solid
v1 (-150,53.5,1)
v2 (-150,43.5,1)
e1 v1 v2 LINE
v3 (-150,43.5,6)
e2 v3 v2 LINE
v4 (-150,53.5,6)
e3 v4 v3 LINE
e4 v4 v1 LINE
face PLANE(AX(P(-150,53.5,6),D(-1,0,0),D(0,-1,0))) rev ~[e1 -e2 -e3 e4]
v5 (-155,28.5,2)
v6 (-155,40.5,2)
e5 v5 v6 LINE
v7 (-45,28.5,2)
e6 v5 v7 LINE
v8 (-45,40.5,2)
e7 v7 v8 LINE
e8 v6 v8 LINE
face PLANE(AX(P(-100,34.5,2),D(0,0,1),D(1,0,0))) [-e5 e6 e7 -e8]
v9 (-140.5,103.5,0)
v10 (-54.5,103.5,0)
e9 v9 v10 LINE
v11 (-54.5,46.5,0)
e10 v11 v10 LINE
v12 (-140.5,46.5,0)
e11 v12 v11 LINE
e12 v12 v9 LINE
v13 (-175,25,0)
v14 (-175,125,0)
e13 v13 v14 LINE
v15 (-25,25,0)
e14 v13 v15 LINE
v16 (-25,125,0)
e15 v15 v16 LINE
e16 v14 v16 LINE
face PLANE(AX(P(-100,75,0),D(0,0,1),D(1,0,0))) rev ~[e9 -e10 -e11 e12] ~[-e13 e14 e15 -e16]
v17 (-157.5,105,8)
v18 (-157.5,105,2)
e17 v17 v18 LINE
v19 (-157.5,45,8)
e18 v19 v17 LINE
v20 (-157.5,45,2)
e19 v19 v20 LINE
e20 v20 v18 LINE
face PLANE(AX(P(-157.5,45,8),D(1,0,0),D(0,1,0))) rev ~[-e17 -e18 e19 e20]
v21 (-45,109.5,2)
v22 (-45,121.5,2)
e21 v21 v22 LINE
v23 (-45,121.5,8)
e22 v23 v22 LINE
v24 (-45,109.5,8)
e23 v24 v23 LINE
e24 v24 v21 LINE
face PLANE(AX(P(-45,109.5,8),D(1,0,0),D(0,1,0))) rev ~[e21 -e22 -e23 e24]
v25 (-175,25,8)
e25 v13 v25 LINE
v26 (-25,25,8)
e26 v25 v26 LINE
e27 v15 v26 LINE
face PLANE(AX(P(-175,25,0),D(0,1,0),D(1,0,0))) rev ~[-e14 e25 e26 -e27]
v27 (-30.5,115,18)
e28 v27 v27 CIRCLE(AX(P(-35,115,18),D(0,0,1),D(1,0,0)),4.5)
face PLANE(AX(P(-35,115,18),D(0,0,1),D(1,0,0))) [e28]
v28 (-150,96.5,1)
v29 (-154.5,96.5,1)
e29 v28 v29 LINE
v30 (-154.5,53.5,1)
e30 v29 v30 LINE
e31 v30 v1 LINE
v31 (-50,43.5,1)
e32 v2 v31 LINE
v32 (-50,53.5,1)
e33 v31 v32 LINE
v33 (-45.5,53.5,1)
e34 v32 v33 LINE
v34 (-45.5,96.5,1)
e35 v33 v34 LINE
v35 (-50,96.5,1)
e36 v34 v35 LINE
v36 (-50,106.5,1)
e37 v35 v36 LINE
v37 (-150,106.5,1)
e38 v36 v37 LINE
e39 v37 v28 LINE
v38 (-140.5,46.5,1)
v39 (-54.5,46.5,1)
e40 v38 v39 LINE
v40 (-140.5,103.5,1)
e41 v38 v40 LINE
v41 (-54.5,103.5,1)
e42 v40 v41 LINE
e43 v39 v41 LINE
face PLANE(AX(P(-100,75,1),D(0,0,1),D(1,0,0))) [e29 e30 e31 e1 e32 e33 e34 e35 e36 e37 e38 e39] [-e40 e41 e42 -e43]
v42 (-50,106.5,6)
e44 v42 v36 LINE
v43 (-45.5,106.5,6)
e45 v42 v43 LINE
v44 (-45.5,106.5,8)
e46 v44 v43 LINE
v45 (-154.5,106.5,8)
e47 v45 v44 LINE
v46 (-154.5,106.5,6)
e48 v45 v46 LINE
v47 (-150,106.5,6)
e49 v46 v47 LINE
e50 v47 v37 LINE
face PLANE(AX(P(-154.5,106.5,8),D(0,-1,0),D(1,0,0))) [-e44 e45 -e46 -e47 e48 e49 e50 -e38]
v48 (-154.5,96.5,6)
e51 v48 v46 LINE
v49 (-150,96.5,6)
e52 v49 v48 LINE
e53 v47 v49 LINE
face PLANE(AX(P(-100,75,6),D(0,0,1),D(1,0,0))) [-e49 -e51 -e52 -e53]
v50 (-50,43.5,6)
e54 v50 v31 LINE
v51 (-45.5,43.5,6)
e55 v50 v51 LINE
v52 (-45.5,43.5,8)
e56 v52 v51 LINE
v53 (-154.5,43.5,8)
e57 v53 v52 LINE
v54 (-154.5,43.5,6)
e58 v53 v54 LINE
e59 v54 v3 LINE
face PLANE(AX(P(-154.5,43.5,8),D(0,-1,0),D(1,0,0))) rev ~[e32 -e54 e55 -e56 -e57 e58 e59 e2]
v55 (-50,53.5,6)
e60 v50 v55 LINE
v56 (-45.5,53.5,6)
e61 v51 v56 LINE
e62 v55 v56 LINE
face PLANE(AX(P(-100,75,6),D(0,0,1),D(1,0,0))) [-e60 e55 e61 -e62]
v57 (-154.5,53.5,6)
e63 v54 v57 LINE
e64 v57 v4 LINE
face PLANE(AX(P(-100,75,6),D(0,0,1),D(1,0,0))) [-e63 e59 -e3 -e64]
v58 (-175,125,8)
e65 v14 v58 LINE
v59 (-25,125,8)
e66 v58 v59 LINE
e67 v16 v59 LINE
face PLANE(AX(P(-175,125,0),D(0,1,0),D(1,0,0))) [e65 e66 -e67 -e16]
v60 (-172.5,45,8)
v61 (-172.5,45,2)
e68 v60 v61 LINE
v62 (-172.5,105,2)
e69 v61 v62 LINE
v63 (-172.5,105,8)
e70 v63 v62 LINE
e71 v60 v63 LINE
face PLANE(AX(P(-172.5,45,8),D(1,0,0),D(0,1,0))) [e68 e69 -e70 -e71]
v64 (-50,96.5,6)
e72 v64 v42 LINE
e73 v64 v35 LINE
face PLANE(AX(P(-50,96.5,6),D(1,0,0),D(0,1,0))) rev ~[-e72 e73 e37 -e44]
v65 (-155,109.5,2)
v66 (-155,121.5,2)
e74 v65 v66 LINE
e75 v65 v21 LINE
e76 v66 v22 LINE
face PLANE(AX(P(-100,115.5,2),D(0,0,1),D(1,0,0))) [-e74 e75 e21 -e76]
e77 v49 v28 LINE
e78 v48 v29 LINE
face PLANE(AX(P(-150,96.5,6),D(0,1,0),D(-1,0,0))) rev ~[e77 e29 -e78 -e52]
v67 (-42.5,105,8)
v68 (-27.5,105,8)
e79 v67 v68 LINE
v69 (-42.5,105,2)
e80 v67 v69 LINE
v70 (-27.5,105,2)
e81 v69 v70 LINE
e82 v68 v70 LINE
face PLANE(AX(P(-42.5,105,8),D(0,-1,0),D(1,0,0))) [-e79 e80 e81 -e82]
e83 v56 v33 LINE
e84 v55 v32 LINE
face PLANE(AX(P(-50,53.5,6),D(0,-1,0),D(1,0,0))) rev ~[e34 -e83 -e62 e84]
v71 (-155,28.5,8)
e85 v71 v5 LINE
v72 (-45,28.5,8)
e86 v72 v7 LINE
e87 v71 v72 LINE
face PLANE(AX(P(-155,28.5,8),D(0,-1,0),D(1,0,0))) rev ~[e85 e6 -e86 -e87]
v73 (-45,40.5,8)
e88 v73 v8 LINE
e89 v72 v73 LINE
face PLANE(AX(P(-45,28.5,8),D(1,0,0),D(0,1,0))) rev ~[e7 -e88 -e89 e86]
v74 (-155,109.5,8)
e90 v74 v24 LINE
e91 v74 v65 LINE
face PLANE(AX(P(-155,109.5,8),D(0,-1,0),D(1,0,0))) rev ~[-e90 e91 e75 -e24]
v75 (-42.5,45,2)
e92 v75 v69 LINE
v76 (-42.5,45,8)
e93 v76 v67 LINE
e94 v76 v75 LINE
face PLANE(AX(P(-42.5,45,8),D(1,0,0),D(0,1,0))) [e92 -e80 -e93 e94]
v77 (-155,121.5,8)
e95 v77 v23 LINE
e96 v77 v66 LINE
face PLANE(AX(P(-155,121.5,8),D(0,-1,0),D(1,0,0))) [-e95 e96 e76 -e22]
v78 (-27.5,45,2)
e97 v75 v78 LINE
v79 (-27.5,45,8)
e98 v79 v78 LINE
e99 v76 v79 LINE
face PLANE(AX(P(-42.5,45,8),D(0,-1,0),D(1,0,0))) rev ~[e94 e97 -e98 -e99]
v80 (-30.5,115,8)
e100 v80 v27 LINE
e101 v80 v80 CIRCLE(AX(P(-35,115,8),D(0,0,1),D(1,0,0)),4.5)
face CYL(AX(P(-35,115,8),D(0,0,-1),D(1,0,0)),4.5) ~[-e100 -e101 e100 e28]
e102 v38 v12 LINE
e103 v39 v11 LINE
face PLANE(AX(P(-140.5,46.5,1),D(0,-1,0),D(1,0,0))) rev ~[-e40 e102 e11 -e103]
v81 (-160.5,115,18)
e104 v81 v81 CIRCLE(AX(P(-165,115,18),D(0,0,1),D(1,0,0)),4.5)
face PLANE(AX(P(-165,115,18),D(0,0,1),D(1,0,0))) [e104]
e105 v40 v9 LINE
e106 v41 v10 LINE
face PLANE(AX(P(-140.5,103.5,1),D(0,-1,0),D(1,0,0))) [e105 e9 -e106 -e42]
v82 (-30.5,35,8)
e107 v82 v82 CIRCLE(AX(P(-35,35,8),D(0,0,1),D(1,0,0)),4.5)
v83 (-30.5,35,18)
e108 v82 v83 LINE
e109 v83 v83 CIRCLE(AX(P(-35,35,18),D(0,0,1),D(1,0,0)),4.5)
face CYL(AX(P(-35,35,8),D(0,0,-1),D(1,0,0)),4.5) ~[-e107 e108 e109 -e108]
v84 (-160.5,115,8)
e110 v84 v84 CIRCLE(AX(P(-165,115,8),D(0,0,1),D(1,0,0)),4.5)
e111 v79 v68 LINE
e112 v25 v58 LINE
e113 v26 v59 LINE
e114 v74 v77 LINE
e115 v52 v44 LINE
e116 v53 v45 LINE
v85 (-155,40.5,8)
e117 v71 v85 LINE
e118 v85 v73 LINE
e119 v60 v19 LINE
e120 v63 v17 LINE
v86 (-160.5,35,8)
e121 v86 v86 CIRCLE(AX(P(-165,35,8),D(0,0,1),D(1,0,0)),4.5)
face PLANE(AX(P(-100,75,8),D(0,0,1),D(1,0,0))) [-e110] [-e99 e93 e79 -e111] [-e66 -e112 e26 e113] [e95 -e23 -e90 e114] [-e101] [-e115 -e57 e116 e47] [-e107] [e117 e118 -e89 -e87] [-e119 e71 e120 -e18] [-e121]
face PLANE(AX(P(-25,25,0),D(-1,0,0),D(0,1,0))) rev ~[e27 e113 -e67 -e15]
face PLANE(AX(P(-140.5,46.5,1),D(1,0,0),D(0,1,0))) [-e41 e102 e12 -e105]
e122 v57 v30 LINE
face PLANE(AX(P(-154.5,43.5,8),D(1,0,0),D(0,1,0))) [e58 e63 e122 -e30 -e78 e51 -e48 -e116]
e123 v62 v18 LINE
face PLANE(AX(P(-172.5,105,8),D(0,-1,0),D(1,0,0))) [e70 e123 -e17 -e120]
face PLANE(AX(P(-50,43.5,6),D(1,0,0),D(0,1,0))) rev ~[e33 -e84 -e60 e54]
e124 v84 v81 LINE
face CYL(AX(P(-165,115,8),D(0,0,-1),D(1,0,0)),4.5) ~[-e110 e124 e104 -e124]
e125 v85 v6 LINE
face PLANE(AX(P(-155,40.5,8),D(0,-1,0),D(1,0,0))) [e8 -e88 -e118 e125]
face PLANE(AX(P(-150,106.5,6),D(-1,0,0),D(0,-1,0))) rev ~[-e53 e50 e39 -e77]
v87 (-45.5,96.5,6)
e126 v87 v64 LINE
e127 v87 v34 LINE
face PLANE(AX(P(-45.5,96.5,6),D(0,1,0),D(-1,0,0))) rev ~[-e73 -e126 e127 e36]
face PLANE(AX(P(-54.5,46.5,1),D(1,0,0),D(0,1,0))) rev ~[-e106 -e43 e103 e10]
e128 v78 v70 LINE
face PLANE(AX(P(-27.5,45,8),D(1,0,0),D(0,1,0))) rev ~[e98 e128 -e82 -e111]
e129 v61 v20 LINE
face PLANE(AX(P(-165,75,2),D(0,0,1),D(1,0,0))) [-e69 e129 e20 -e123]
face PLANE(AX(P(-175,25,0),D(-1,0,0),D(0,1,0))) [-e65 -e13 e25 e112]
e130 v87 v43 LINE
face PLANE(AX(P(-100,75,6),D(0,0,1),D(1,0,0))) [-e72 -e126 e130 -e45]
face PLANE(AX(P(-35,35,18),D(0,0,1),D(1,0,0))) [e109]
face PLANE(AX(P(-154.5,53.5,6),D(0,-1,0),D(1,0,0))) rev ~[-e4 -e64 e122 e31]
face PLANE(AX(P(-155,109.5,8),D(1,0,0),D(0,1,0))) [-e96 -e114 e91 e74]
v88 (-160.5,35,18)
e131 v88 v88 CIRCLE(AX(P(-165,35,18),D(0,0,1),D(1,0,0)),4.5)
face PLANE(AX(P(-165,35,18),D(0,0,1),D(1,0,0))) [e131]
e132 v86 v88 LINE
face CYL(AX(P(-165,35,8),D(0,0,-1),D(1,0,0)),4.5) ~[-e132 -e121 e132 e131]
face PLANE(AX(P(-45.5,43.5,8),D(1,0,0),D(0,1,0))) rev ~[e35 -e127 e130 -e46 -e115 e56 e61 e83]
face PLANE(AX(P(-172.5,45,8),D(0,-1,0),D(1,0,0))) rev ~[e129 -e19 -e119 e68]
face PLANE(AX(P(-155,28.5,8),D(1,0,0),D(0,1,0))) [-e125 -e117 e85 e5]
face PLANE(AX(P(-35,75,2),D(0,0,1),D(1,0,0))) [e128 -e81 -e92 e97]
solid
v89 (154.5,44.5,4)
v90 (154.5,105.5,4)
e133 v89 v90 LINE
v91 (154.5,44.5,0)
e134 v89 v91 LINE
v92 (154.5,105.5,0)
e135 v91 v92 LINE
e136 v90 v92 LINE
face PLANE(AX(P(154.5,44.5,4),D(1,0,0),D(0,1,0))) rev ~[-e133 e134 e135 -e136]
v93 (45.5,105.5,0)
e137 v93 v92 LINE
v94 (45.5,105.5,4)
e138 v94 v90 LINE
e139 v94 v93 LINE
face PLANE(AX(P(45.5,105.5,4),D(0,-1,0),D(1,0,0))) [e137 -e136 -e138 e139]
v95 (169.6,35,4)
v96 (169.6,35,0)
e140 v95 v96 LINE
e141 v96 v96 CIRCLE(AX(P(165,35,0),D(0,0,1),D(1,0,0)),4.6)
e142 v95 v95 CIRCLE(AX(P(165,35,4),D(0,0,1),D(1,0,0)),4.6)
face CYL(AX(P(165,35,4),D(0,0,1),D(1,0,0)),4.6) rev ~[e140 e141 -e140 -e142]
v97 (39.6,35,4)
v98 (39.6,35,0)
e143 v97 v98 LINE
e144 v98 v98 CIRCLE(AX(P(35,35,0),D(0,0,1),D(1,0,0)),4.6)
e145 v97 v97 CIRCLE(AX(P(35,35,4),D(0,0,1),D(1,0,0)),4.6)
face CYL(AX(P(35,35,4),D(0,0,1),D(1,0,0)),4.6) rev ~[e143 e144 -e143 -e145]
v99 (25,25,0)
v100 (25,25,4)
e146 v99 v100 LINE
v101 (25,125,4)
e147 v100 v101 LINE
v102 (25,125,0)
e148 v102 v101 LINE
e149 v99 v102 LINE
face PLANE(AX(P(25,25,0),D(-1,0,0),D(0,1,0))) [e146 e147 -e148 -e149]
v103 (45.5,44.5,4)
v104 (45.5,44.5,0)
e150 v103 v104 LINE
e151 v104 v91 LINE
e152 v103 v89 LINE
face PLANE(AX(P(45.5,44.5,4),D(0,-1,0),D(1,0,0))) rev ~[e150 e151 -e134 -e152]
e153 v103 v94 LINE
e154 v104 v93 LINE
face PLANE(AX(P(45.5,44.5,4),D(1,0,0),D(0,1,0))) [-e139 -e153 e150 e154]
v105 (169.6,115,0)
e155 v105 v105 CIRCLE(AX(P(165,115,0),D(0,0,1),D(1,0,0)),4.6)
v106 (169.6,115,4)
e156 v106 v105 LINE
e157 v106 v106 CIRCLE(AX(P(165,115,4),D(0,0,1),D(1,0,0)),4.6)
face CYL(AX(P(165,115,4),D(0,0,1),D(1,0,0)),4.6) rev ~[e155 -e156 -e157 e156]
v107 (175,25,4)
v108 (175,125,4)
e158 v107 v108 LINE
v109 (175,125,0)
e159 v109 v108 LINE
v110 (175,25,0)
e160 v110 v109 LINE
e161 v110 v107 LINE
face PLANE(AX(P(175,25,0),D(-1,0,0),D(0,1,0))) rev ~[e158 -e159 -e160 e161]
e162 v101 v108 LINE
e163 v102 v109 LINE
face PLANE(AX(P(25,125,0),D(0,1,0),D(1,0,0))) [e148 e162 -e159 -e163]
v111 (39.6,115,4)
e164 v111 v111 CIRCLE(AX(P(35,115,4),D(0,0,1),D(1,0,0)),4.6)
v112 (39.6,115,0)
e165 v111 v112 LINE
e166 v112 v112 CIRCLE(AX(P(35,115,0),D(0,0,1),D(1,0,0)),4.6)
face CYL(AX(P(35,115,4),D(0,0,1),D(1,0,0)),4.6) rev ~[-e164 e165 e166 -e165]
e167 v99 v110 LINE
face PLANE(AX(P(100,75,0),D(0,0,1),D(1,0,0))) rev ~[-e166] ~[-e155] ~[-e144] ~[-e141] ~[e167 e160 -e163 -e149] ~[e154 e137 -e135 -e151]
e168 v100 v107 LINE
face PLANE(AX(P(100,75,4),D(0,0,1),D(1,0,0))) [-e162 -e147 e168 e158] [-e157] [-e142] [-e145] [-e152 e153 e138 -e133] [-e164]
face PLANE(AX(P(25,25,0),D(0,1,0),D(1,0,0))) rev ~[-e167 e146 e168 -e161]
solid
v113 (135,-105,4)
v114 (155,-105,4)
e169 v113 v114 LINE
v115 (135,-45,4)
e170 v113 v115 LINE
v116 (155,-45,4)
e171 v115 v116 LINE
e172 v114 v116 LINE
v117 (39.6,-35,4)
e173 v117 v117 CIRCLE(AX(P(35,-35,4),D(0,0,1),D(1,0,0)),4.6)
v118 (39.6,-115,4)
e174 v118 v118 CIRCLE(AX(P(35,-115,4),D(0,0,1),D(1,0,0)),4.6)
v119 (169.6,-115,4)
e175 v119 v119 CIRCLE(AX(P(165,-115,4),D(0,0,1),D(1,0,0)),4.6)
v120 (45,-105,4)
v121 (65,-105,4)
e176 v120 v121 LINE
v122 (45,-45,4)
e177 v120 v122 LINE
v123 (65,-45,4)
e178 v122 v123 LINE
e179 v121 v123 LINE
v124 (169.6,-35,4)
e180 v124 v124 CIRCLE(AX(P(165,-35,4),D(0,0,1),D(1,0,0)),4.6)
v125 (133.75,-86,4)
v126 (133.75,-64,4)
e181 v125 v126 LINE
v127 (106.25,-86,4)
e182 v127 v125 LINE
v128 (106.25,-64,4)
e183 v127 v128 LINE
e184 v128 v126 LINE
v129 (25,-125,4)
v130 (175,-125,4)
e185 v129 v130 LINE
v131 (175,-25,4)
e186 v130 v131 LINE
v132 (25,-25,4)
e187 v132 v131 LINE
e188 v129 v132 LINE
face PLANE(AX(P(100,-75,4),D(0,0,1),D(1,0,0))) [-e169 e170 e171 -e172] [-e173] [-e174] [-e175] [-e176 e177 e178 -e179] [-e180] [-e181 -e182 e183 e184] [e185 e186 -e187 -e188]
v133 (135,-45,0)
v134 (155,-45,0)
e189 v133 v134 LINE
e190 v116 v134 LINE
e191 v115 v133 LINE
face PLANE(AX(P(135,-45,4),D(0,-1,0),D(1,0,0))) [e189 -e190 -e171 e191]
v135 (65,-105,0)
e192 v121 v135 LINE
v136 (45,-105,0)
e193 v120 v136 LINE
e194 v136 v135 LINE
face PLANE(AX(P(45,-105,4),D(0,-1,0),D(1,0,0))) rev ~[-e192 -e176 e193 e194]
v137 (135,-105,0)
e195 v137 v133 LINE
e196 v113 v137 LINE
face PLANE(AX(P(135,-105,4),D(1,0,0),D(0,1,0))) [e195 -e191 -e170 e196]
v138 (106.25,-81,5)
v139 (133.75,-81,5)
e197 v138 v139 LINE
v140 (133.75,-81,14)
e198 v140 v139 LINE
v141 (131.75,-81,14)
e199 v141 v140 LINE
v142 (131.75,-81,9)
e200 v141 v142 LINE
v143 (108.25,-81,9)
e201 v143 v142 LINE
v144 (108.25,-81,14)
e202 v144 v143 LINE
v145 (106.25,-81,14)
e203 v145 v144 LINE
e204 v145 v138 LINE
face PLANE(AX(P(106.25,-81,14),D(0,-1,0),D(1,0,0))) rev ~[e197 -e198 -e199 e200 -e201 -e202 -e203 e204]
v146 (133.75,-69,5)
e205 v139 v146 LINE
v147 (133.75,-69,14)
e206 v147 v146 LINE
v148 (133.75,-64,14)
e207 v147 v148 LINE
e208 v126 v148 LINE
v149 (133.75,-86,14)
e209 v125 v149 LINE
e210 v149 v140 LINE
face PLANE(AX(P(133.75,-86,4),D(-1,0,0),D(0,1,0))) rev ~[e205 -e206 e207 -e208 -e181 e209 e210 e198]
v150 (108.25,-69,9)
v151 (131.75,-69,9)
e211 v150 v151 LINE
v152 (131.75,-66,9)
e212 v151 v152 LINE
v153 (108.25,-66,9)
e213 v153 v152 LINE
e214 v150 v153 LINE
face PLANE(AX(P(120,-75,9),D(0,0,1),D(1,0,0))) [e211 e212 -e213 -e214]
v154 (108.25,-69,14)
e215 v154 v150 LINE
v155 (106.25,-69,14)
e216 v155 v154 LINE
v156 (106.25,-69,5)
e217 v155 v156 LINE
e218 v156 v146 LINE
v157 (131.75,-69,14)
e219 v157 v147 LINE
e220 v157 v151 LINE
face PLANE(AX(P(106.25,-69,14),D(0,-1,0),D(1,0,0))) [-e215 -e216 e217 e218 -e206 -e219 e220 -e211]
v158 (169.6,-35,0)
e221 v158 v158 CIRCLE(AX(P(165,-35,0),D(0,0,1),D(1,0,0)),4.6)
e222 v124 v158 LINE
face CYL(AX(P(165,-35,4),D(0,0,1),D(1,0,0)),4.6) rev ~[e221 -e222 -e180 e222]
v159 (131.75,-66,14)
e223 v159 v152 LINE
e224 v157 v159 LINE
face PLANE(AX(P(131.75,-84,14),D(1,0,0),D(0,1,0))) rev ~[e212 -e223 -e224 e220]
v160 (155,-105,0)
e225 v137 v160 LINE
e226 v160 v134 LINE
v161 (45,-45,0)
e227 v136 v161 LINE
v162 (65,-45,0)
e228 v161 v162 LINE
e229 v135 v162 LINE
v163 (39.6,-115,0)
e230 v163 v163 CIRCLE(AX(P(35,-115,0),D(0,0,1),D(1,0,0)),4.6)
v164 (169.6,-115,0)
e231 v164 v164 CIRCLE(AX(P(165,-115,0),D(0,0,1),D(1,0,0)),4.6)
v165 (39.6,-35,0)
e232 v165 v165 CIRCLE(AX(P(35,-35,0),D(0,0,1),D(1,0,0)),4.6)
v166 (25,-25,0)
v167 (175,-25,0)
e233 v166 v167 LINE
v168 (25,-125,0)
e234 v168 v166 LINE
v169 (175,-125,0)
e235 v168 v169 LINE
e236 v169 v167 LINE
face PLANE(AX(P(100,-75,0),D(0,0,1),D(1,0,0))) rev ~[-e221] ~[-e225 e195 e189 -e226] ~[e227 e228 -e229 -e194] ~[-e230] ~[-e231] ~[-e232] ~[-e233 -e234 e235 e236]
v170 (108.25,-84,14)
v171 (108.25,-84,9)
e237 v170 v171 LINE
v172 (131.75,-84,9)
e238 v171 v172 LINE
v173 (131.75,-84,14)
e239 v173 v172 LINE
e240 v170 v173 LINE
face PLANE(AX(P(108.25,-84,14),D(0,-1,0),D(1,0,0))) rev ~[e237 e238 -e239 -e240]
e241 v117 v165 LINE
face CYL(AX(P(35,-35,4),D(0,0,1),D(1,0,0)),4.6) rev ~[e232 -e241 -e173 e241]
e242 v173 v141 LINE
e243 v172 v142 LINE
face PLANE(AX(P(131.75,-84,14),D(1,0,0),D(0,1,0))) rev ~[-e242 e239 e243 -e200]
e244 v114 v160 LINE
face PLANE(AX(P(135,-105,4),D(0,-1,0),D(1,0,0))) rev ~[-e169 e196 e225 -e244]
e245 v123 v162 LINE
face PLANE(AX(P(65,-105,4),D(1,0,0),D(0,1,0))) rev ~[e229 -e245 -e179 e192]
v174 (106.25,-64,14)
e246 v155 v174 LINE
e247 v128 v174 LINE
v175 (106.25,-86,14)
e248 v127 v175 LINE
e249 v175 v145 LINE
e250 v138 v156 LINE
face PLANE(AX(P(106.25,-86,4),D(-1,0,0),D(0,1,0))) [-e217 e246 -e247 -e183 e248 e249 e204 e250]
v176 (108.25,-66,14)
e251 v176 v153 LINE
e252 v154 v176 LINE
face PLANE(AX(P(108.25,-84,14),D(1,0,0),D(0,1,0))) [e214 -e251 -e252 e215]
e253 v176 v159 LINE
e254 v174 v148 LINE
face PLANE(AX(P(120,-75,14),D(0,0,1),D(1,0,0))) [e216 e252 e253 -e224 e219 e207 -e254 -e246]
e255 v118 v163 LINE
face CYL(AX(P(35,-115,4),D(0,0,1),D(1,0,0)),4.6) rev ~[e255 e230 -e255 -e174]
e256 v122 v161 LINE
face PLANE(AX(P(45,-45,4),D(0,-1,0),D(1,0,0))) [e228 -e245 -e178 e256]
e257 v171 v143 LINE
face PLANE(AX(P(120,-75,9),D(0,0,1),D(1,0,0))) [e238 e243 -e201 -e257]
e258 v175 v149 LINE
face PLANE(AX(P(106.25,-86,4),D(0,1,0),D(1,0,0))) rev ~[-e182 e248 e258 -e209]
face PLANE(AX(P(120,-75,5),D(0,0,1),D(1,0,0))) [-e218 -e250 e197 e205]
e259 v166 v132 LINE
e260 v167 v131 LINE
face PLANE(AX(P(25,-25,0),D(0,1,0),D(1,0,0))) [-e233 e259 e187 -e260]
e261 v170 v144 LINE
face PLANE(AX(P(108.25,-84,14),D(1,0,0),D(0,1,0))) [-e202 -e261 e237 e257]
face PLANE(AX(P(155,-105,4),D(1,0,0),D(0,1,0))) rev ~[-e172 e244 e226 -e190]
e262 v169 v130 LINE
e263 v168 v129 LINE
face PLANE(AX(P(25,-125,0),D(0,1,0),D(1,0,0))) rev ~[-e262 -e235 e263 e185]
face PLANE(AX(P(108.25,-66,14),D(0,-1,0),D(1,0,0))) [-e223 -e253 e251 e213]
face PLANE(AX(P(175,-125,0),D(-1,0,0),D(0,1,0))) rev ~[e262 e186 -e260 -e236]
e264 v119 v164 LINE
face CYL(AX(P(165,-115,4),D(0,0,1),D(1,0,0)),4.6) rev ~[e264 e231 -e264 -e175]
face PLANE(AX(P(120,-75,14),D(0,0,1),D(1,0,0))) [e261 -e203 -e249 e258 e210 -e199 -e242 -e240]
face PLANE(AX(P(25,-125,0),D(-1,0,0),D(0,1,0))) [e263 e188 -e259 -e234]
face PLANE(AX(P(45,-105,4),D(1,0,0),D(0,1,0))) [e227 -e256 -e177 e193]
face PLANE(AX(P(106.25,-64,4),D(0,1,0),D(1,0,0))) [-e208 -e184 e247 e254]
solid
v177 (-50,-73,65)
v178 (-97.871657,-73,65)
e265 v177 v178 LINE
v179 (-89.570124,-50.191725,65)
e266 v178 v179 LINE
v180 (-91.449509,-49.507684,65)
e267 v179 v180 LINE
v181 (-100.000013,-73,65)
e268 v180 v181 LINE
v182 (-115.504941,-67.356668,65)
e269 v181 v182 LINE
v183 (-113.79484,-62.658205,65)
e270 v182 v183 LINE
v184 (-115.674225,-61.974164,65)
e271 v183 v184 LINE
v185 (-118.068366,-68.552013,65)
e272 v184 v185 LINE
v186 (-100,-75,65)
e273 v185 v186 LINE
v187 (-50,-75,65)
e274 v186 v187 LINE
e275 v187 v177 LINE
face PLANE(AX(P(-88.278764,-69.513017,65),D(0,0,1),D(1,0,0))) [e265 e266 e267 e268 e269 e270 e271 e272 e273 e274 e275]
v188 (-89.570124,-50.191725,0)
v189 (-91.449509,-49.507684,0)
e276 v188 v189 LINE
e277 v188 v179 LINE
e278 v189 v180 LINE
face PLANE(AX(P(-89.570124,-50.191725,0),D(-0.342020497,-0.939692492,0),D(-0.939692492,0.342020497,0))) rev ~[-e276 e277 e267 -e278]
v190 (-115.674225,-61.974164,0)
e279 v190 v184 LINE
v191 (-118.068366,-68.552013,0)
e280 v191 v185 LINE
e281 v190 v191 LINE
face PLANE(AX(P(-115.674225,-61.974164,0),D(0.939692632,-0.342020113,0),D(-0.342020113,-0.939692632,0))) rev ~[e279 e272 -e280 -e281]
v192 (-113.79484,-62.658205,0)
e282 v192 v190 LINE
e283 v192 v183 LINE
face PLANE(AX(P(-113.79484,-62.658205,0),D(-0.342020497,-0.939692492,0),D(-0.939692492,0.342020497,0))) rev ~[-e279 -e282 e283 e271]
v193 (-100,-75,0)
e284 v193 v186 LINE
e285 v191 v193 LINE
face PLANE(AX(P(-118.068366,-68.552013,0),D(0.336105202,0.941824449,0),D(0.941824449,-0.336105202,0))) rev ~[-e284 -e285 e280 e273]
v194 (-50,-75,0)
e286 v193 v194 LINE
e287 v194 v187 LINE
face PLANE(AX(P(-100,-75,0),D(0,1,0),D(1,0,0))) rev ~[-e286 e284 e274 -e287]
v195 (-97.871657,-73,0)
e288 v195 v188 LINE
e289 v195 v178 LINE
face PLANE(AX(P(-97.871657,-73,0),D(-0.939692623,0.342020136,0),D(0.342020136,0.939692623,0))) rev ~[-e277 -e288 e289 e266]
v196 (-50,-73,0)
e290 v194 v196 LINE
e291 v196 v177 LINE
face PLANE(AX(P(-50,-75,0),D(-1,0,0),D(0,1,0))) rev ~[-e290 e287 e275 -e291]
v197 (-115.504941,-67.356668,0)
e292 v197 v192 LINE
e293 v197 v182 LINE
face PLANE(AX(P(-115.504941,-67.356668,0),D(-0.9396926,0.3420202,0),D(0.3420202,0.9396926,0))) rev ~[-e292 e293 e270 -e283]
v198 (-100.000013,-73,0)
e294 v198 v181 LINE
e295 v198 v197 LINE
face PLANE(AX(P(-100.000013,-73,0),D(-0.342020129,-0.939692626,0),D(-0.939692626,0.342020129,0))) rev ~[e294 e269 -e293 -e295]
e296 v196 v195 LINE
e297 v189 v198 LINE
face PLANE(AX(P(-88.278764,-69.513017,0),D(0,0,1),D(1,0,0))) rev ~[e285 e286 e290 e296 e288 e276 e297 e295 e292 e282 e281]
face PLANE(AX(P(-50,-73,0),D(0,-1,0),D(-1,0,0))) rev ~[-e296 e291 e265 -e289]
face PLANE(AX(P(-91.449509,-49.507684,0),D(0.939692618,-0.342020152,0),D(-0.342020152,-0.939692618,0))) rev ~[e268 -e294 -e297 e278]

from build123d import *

# Parameters (mm, degrees)
SKETCH_W        = 150
SKETCH_H        = 100
PAD_DEPTH       = 8
SKETCH001_W     = 109
SKETCH001_H     = 63
POCKET_DEPTH    = 2
POCKET001_DEPTH = 5
SKETCH003_W     = 86
SKETCH003_H     = 57
POCKET002_DEPTH = 1
SKETCH004_R     = 4.5
PAD001_DEPTH    = 10
SKETCH005_W     = 110
SKETCH005_H     = 12
SKETCH005_W_2   = 15
SKETCH005_H_2   = 60
POCKET003_DEPTH = 6
SKETCH006_W     = 150
SKETCH006_H     = 100
PAD002_DEPTH    = 4
SKETCH010_R     = 4.6
SKETCH010_W     = 109
SKETCH010_H     = 61
POCKET004_DEPTH = 4.001
SKETCH011_W     = 150
SKETCH011_H     = 100
PAD003_DEPTH    = 4
SKETCH012_R     = 4.6
SKETCH012_W     = 20
SKETCH012_H     = 60
POCKET005_DEPTH = 4.001
SKETCH013_W     = 27.5
SKETCH013_H     = 22
PAD004_DEPTH    = 10
SKETCH014_W     = 23.5
SKETCH014_H     = 18
POCKET006_DEPTH = 5
SKETCH015_W     = 27.5
SKETCH015_H     = 12
POCKET007_DEPTH = 9
PAD005_DEPTH    = 65


with BuildPart() as front:
    # Sketch → Pad (new body)
    with BuildSketch(Plane.XY):
        with Locations((-100, 75)):
            Rectangle(SKETCH_W, SKETCH_H)
    extrude(amount=PAD_DEPTH)

    # Sketch001 (on Face6 of Pad) → Pocket (cut)
    with BuildSketch(Plane.XY.offset(8)):
        with Locations((-100, 75)):
            Rectangle(SKETCH001_W, SKETCH001_H)
    extrude(amount=-POCKET_DEPTH, mode=Mode.SUBTRACT)

    # Sketch002 (on Face11 of Pocket) → Pocket001 (cut)
    with BuildSketch(Plane.XY.offset(6)):
        Polygon((-150, 43.5), (-50, 43.5), (-50, 53.5), (-45.5, 53.5), (-45.5, 96.5), (-50, 96.5), (-50, 106.5), (-150, 106.5), (-150, 96.5), (-154.5, 96.5), (-154.5, 53.5), (-150, 53.5), align=None)
    extrude(amount=-POCKET001_DEPTH, mode=Mode.SUBTRACT)

    # Sketch003 (on Face22 of Pocket001) → Pocket002 (cut)
    with BuildSketch(Plane.XY.offset(1)):
        with Locations((-97.5, 75)):
            Rectangle(SKETCH003_W, SKETCH003_H)
    extrude(amount=-POCKET002_DEPTH, mode=Mode.SUBTRACT)

    # Sketch004 (on Face5 of Pocket002) → Pad001 (join)
    with BuildSketch(Plane.XY.offset(8)):
        with Locations((-165, 115)):
            Circle(SKETCH004_R)
        with Locations((-35, 115)):
            Circle(SKETCH004_R)
        with Locations((-35, 35)):
            Circle(SKETCH004_R)
        with Locations((-165, 35)):
            Circle(SKETCH004_R)
    extrude(amount=PAD001_DEPTH)

    # Sketch005 (on Face5 of Pad001) → Pocket003 (cut)
    with BuildSketch(Plane.XY.offset(8)):
        with Locations((-100, 115.5)):
            Rectangle(SKETCH005_W, SKETCH005_H)
        with Locations((-35, 75)):
            Rectangle(SKETCH005_W_2, SKETCH005_H_2)
        with Locations((-100, 34.5)):
            Rectangle(SKETCH005_W, SKETCH005_H)
        with Locations((-165, 75)):
            Rectangle(SKETCH005_W_2, SKETCH005_H_2)
    extrude(amount=-POCKET003_DEPTH, mode=Mode.SUBTRACT)


with BuildPart() as spacer:
    # Sketch006 → Pad002 (new body)
    with BuildSketch(Plane.XY):
        with Locations((100, 75)):
            Rectangle(SKETCH006_W, SKETCH006_H)
    extrude(amount=PAD002_DEPTH)

    # Sketch010 (on Face6 of Pad002) → Pocket004 (cut, through all)
    with BuildSketch(Plane.XY.offset(4)):
        with Locations((35, 115)):
            Circle(SKETCH010_R)
        with Locations((165, 115)):
            Circle(SKETCH010_R)
        with Locations((165, 35)):
            Circle(SKETCH010_R)
        with Locations((35, 35)):
            Circle(SKETCH010_R)
        with Locations((100, 75)):
            Rectangle(SKETCH010_W, SKETCH010_H)
    extrude(amount=-POCKET004_DEPTH, mode=Mode.SUBTRACT)


with BuildPart() as back:
    # Sketch011 → Pad003 (new body)
    with BuildSketch(Plane.XY):
        with Locations((100, -75)):
            Rectangle(SKETCH011_W, SKETCH011_H)
    extrude(amount=PAD003_DEPTH)

    # Sketch012 (on Face6 of Pad003) → Pocket005 (cut, through all)
    with BuildSketch(Plane.XY.offset(4)):
        with Locations((35, -35)):
            Circle(SKETCH012_R)
        with Locations((165, -35)):
            Circle(SKETCH012_R)
        with Locations((165, -115)):
            Circle(SKETCH012_R)
        with Locations((35, -115)):
            Circle(SKETCH012_R)
        with Locations((55, -75)):
            Rectangle(SKETCH012_W, SKETCH012_H)
        with Locations((145, -75)):
            Rectangle(SKETCH012_W, SKETCH012_H)
    extrude(amount=-POCKET005_DEPTH, mode=Mode.SUBTRACT)

    # Sketch013 (on Face6 of Pad003) → Pad004 (join)
    with BuildSketch(Plane.XY.offset(4)):
        with Locations((120, -75)):
            Rectangle(SKETCH013_W, SKETCH013_H)
    extrude(amount=PAD004_DEPTH)

    # Sketch014 (on Face23 of Pad004) → Pocket006 (cut)
    with BuildSketch(Plane.XY.offset(14)):
        with Locations((120, -75)):
            Rectangle(SKETCH014_W, SKETCH014_H)
    extrude(amount=-POCKET006_DEPTH, mode=Mode.SUBTRACT)

    # Sketch015 (on Face23 of Pocket006) → Pocket007 (cut)
    with BuildSketch(Plane.XY.offset(14)):
        with Locations((120, -75)):
            Rectangle(SKETCH015_W, SKETCH015_H)
    extrude(amount=-POCKET007_DEPTH, mode=Mode.SUBTRACT)


with BuildPart() as stand:
    # Sketch017 → Pad005 (new body)
    with BuildSketch(Plane.XY):
        Polygon((-100, -75), (-50, -75), (-50, -73), (-97.871657, -73), (-89.570124, -50.191725), (-91.449509, -49.507684), (-100.000013, -73), (-115.504941, -67.356668), (-113.79484, -62.658205), (-115.674225, -61.974164), (-118.068366, -68.552013), align=None)
    extrude(amount=PAD005_DEPTH)


solid = Compound([front.part, spacer.part, back.part, stand.part])
